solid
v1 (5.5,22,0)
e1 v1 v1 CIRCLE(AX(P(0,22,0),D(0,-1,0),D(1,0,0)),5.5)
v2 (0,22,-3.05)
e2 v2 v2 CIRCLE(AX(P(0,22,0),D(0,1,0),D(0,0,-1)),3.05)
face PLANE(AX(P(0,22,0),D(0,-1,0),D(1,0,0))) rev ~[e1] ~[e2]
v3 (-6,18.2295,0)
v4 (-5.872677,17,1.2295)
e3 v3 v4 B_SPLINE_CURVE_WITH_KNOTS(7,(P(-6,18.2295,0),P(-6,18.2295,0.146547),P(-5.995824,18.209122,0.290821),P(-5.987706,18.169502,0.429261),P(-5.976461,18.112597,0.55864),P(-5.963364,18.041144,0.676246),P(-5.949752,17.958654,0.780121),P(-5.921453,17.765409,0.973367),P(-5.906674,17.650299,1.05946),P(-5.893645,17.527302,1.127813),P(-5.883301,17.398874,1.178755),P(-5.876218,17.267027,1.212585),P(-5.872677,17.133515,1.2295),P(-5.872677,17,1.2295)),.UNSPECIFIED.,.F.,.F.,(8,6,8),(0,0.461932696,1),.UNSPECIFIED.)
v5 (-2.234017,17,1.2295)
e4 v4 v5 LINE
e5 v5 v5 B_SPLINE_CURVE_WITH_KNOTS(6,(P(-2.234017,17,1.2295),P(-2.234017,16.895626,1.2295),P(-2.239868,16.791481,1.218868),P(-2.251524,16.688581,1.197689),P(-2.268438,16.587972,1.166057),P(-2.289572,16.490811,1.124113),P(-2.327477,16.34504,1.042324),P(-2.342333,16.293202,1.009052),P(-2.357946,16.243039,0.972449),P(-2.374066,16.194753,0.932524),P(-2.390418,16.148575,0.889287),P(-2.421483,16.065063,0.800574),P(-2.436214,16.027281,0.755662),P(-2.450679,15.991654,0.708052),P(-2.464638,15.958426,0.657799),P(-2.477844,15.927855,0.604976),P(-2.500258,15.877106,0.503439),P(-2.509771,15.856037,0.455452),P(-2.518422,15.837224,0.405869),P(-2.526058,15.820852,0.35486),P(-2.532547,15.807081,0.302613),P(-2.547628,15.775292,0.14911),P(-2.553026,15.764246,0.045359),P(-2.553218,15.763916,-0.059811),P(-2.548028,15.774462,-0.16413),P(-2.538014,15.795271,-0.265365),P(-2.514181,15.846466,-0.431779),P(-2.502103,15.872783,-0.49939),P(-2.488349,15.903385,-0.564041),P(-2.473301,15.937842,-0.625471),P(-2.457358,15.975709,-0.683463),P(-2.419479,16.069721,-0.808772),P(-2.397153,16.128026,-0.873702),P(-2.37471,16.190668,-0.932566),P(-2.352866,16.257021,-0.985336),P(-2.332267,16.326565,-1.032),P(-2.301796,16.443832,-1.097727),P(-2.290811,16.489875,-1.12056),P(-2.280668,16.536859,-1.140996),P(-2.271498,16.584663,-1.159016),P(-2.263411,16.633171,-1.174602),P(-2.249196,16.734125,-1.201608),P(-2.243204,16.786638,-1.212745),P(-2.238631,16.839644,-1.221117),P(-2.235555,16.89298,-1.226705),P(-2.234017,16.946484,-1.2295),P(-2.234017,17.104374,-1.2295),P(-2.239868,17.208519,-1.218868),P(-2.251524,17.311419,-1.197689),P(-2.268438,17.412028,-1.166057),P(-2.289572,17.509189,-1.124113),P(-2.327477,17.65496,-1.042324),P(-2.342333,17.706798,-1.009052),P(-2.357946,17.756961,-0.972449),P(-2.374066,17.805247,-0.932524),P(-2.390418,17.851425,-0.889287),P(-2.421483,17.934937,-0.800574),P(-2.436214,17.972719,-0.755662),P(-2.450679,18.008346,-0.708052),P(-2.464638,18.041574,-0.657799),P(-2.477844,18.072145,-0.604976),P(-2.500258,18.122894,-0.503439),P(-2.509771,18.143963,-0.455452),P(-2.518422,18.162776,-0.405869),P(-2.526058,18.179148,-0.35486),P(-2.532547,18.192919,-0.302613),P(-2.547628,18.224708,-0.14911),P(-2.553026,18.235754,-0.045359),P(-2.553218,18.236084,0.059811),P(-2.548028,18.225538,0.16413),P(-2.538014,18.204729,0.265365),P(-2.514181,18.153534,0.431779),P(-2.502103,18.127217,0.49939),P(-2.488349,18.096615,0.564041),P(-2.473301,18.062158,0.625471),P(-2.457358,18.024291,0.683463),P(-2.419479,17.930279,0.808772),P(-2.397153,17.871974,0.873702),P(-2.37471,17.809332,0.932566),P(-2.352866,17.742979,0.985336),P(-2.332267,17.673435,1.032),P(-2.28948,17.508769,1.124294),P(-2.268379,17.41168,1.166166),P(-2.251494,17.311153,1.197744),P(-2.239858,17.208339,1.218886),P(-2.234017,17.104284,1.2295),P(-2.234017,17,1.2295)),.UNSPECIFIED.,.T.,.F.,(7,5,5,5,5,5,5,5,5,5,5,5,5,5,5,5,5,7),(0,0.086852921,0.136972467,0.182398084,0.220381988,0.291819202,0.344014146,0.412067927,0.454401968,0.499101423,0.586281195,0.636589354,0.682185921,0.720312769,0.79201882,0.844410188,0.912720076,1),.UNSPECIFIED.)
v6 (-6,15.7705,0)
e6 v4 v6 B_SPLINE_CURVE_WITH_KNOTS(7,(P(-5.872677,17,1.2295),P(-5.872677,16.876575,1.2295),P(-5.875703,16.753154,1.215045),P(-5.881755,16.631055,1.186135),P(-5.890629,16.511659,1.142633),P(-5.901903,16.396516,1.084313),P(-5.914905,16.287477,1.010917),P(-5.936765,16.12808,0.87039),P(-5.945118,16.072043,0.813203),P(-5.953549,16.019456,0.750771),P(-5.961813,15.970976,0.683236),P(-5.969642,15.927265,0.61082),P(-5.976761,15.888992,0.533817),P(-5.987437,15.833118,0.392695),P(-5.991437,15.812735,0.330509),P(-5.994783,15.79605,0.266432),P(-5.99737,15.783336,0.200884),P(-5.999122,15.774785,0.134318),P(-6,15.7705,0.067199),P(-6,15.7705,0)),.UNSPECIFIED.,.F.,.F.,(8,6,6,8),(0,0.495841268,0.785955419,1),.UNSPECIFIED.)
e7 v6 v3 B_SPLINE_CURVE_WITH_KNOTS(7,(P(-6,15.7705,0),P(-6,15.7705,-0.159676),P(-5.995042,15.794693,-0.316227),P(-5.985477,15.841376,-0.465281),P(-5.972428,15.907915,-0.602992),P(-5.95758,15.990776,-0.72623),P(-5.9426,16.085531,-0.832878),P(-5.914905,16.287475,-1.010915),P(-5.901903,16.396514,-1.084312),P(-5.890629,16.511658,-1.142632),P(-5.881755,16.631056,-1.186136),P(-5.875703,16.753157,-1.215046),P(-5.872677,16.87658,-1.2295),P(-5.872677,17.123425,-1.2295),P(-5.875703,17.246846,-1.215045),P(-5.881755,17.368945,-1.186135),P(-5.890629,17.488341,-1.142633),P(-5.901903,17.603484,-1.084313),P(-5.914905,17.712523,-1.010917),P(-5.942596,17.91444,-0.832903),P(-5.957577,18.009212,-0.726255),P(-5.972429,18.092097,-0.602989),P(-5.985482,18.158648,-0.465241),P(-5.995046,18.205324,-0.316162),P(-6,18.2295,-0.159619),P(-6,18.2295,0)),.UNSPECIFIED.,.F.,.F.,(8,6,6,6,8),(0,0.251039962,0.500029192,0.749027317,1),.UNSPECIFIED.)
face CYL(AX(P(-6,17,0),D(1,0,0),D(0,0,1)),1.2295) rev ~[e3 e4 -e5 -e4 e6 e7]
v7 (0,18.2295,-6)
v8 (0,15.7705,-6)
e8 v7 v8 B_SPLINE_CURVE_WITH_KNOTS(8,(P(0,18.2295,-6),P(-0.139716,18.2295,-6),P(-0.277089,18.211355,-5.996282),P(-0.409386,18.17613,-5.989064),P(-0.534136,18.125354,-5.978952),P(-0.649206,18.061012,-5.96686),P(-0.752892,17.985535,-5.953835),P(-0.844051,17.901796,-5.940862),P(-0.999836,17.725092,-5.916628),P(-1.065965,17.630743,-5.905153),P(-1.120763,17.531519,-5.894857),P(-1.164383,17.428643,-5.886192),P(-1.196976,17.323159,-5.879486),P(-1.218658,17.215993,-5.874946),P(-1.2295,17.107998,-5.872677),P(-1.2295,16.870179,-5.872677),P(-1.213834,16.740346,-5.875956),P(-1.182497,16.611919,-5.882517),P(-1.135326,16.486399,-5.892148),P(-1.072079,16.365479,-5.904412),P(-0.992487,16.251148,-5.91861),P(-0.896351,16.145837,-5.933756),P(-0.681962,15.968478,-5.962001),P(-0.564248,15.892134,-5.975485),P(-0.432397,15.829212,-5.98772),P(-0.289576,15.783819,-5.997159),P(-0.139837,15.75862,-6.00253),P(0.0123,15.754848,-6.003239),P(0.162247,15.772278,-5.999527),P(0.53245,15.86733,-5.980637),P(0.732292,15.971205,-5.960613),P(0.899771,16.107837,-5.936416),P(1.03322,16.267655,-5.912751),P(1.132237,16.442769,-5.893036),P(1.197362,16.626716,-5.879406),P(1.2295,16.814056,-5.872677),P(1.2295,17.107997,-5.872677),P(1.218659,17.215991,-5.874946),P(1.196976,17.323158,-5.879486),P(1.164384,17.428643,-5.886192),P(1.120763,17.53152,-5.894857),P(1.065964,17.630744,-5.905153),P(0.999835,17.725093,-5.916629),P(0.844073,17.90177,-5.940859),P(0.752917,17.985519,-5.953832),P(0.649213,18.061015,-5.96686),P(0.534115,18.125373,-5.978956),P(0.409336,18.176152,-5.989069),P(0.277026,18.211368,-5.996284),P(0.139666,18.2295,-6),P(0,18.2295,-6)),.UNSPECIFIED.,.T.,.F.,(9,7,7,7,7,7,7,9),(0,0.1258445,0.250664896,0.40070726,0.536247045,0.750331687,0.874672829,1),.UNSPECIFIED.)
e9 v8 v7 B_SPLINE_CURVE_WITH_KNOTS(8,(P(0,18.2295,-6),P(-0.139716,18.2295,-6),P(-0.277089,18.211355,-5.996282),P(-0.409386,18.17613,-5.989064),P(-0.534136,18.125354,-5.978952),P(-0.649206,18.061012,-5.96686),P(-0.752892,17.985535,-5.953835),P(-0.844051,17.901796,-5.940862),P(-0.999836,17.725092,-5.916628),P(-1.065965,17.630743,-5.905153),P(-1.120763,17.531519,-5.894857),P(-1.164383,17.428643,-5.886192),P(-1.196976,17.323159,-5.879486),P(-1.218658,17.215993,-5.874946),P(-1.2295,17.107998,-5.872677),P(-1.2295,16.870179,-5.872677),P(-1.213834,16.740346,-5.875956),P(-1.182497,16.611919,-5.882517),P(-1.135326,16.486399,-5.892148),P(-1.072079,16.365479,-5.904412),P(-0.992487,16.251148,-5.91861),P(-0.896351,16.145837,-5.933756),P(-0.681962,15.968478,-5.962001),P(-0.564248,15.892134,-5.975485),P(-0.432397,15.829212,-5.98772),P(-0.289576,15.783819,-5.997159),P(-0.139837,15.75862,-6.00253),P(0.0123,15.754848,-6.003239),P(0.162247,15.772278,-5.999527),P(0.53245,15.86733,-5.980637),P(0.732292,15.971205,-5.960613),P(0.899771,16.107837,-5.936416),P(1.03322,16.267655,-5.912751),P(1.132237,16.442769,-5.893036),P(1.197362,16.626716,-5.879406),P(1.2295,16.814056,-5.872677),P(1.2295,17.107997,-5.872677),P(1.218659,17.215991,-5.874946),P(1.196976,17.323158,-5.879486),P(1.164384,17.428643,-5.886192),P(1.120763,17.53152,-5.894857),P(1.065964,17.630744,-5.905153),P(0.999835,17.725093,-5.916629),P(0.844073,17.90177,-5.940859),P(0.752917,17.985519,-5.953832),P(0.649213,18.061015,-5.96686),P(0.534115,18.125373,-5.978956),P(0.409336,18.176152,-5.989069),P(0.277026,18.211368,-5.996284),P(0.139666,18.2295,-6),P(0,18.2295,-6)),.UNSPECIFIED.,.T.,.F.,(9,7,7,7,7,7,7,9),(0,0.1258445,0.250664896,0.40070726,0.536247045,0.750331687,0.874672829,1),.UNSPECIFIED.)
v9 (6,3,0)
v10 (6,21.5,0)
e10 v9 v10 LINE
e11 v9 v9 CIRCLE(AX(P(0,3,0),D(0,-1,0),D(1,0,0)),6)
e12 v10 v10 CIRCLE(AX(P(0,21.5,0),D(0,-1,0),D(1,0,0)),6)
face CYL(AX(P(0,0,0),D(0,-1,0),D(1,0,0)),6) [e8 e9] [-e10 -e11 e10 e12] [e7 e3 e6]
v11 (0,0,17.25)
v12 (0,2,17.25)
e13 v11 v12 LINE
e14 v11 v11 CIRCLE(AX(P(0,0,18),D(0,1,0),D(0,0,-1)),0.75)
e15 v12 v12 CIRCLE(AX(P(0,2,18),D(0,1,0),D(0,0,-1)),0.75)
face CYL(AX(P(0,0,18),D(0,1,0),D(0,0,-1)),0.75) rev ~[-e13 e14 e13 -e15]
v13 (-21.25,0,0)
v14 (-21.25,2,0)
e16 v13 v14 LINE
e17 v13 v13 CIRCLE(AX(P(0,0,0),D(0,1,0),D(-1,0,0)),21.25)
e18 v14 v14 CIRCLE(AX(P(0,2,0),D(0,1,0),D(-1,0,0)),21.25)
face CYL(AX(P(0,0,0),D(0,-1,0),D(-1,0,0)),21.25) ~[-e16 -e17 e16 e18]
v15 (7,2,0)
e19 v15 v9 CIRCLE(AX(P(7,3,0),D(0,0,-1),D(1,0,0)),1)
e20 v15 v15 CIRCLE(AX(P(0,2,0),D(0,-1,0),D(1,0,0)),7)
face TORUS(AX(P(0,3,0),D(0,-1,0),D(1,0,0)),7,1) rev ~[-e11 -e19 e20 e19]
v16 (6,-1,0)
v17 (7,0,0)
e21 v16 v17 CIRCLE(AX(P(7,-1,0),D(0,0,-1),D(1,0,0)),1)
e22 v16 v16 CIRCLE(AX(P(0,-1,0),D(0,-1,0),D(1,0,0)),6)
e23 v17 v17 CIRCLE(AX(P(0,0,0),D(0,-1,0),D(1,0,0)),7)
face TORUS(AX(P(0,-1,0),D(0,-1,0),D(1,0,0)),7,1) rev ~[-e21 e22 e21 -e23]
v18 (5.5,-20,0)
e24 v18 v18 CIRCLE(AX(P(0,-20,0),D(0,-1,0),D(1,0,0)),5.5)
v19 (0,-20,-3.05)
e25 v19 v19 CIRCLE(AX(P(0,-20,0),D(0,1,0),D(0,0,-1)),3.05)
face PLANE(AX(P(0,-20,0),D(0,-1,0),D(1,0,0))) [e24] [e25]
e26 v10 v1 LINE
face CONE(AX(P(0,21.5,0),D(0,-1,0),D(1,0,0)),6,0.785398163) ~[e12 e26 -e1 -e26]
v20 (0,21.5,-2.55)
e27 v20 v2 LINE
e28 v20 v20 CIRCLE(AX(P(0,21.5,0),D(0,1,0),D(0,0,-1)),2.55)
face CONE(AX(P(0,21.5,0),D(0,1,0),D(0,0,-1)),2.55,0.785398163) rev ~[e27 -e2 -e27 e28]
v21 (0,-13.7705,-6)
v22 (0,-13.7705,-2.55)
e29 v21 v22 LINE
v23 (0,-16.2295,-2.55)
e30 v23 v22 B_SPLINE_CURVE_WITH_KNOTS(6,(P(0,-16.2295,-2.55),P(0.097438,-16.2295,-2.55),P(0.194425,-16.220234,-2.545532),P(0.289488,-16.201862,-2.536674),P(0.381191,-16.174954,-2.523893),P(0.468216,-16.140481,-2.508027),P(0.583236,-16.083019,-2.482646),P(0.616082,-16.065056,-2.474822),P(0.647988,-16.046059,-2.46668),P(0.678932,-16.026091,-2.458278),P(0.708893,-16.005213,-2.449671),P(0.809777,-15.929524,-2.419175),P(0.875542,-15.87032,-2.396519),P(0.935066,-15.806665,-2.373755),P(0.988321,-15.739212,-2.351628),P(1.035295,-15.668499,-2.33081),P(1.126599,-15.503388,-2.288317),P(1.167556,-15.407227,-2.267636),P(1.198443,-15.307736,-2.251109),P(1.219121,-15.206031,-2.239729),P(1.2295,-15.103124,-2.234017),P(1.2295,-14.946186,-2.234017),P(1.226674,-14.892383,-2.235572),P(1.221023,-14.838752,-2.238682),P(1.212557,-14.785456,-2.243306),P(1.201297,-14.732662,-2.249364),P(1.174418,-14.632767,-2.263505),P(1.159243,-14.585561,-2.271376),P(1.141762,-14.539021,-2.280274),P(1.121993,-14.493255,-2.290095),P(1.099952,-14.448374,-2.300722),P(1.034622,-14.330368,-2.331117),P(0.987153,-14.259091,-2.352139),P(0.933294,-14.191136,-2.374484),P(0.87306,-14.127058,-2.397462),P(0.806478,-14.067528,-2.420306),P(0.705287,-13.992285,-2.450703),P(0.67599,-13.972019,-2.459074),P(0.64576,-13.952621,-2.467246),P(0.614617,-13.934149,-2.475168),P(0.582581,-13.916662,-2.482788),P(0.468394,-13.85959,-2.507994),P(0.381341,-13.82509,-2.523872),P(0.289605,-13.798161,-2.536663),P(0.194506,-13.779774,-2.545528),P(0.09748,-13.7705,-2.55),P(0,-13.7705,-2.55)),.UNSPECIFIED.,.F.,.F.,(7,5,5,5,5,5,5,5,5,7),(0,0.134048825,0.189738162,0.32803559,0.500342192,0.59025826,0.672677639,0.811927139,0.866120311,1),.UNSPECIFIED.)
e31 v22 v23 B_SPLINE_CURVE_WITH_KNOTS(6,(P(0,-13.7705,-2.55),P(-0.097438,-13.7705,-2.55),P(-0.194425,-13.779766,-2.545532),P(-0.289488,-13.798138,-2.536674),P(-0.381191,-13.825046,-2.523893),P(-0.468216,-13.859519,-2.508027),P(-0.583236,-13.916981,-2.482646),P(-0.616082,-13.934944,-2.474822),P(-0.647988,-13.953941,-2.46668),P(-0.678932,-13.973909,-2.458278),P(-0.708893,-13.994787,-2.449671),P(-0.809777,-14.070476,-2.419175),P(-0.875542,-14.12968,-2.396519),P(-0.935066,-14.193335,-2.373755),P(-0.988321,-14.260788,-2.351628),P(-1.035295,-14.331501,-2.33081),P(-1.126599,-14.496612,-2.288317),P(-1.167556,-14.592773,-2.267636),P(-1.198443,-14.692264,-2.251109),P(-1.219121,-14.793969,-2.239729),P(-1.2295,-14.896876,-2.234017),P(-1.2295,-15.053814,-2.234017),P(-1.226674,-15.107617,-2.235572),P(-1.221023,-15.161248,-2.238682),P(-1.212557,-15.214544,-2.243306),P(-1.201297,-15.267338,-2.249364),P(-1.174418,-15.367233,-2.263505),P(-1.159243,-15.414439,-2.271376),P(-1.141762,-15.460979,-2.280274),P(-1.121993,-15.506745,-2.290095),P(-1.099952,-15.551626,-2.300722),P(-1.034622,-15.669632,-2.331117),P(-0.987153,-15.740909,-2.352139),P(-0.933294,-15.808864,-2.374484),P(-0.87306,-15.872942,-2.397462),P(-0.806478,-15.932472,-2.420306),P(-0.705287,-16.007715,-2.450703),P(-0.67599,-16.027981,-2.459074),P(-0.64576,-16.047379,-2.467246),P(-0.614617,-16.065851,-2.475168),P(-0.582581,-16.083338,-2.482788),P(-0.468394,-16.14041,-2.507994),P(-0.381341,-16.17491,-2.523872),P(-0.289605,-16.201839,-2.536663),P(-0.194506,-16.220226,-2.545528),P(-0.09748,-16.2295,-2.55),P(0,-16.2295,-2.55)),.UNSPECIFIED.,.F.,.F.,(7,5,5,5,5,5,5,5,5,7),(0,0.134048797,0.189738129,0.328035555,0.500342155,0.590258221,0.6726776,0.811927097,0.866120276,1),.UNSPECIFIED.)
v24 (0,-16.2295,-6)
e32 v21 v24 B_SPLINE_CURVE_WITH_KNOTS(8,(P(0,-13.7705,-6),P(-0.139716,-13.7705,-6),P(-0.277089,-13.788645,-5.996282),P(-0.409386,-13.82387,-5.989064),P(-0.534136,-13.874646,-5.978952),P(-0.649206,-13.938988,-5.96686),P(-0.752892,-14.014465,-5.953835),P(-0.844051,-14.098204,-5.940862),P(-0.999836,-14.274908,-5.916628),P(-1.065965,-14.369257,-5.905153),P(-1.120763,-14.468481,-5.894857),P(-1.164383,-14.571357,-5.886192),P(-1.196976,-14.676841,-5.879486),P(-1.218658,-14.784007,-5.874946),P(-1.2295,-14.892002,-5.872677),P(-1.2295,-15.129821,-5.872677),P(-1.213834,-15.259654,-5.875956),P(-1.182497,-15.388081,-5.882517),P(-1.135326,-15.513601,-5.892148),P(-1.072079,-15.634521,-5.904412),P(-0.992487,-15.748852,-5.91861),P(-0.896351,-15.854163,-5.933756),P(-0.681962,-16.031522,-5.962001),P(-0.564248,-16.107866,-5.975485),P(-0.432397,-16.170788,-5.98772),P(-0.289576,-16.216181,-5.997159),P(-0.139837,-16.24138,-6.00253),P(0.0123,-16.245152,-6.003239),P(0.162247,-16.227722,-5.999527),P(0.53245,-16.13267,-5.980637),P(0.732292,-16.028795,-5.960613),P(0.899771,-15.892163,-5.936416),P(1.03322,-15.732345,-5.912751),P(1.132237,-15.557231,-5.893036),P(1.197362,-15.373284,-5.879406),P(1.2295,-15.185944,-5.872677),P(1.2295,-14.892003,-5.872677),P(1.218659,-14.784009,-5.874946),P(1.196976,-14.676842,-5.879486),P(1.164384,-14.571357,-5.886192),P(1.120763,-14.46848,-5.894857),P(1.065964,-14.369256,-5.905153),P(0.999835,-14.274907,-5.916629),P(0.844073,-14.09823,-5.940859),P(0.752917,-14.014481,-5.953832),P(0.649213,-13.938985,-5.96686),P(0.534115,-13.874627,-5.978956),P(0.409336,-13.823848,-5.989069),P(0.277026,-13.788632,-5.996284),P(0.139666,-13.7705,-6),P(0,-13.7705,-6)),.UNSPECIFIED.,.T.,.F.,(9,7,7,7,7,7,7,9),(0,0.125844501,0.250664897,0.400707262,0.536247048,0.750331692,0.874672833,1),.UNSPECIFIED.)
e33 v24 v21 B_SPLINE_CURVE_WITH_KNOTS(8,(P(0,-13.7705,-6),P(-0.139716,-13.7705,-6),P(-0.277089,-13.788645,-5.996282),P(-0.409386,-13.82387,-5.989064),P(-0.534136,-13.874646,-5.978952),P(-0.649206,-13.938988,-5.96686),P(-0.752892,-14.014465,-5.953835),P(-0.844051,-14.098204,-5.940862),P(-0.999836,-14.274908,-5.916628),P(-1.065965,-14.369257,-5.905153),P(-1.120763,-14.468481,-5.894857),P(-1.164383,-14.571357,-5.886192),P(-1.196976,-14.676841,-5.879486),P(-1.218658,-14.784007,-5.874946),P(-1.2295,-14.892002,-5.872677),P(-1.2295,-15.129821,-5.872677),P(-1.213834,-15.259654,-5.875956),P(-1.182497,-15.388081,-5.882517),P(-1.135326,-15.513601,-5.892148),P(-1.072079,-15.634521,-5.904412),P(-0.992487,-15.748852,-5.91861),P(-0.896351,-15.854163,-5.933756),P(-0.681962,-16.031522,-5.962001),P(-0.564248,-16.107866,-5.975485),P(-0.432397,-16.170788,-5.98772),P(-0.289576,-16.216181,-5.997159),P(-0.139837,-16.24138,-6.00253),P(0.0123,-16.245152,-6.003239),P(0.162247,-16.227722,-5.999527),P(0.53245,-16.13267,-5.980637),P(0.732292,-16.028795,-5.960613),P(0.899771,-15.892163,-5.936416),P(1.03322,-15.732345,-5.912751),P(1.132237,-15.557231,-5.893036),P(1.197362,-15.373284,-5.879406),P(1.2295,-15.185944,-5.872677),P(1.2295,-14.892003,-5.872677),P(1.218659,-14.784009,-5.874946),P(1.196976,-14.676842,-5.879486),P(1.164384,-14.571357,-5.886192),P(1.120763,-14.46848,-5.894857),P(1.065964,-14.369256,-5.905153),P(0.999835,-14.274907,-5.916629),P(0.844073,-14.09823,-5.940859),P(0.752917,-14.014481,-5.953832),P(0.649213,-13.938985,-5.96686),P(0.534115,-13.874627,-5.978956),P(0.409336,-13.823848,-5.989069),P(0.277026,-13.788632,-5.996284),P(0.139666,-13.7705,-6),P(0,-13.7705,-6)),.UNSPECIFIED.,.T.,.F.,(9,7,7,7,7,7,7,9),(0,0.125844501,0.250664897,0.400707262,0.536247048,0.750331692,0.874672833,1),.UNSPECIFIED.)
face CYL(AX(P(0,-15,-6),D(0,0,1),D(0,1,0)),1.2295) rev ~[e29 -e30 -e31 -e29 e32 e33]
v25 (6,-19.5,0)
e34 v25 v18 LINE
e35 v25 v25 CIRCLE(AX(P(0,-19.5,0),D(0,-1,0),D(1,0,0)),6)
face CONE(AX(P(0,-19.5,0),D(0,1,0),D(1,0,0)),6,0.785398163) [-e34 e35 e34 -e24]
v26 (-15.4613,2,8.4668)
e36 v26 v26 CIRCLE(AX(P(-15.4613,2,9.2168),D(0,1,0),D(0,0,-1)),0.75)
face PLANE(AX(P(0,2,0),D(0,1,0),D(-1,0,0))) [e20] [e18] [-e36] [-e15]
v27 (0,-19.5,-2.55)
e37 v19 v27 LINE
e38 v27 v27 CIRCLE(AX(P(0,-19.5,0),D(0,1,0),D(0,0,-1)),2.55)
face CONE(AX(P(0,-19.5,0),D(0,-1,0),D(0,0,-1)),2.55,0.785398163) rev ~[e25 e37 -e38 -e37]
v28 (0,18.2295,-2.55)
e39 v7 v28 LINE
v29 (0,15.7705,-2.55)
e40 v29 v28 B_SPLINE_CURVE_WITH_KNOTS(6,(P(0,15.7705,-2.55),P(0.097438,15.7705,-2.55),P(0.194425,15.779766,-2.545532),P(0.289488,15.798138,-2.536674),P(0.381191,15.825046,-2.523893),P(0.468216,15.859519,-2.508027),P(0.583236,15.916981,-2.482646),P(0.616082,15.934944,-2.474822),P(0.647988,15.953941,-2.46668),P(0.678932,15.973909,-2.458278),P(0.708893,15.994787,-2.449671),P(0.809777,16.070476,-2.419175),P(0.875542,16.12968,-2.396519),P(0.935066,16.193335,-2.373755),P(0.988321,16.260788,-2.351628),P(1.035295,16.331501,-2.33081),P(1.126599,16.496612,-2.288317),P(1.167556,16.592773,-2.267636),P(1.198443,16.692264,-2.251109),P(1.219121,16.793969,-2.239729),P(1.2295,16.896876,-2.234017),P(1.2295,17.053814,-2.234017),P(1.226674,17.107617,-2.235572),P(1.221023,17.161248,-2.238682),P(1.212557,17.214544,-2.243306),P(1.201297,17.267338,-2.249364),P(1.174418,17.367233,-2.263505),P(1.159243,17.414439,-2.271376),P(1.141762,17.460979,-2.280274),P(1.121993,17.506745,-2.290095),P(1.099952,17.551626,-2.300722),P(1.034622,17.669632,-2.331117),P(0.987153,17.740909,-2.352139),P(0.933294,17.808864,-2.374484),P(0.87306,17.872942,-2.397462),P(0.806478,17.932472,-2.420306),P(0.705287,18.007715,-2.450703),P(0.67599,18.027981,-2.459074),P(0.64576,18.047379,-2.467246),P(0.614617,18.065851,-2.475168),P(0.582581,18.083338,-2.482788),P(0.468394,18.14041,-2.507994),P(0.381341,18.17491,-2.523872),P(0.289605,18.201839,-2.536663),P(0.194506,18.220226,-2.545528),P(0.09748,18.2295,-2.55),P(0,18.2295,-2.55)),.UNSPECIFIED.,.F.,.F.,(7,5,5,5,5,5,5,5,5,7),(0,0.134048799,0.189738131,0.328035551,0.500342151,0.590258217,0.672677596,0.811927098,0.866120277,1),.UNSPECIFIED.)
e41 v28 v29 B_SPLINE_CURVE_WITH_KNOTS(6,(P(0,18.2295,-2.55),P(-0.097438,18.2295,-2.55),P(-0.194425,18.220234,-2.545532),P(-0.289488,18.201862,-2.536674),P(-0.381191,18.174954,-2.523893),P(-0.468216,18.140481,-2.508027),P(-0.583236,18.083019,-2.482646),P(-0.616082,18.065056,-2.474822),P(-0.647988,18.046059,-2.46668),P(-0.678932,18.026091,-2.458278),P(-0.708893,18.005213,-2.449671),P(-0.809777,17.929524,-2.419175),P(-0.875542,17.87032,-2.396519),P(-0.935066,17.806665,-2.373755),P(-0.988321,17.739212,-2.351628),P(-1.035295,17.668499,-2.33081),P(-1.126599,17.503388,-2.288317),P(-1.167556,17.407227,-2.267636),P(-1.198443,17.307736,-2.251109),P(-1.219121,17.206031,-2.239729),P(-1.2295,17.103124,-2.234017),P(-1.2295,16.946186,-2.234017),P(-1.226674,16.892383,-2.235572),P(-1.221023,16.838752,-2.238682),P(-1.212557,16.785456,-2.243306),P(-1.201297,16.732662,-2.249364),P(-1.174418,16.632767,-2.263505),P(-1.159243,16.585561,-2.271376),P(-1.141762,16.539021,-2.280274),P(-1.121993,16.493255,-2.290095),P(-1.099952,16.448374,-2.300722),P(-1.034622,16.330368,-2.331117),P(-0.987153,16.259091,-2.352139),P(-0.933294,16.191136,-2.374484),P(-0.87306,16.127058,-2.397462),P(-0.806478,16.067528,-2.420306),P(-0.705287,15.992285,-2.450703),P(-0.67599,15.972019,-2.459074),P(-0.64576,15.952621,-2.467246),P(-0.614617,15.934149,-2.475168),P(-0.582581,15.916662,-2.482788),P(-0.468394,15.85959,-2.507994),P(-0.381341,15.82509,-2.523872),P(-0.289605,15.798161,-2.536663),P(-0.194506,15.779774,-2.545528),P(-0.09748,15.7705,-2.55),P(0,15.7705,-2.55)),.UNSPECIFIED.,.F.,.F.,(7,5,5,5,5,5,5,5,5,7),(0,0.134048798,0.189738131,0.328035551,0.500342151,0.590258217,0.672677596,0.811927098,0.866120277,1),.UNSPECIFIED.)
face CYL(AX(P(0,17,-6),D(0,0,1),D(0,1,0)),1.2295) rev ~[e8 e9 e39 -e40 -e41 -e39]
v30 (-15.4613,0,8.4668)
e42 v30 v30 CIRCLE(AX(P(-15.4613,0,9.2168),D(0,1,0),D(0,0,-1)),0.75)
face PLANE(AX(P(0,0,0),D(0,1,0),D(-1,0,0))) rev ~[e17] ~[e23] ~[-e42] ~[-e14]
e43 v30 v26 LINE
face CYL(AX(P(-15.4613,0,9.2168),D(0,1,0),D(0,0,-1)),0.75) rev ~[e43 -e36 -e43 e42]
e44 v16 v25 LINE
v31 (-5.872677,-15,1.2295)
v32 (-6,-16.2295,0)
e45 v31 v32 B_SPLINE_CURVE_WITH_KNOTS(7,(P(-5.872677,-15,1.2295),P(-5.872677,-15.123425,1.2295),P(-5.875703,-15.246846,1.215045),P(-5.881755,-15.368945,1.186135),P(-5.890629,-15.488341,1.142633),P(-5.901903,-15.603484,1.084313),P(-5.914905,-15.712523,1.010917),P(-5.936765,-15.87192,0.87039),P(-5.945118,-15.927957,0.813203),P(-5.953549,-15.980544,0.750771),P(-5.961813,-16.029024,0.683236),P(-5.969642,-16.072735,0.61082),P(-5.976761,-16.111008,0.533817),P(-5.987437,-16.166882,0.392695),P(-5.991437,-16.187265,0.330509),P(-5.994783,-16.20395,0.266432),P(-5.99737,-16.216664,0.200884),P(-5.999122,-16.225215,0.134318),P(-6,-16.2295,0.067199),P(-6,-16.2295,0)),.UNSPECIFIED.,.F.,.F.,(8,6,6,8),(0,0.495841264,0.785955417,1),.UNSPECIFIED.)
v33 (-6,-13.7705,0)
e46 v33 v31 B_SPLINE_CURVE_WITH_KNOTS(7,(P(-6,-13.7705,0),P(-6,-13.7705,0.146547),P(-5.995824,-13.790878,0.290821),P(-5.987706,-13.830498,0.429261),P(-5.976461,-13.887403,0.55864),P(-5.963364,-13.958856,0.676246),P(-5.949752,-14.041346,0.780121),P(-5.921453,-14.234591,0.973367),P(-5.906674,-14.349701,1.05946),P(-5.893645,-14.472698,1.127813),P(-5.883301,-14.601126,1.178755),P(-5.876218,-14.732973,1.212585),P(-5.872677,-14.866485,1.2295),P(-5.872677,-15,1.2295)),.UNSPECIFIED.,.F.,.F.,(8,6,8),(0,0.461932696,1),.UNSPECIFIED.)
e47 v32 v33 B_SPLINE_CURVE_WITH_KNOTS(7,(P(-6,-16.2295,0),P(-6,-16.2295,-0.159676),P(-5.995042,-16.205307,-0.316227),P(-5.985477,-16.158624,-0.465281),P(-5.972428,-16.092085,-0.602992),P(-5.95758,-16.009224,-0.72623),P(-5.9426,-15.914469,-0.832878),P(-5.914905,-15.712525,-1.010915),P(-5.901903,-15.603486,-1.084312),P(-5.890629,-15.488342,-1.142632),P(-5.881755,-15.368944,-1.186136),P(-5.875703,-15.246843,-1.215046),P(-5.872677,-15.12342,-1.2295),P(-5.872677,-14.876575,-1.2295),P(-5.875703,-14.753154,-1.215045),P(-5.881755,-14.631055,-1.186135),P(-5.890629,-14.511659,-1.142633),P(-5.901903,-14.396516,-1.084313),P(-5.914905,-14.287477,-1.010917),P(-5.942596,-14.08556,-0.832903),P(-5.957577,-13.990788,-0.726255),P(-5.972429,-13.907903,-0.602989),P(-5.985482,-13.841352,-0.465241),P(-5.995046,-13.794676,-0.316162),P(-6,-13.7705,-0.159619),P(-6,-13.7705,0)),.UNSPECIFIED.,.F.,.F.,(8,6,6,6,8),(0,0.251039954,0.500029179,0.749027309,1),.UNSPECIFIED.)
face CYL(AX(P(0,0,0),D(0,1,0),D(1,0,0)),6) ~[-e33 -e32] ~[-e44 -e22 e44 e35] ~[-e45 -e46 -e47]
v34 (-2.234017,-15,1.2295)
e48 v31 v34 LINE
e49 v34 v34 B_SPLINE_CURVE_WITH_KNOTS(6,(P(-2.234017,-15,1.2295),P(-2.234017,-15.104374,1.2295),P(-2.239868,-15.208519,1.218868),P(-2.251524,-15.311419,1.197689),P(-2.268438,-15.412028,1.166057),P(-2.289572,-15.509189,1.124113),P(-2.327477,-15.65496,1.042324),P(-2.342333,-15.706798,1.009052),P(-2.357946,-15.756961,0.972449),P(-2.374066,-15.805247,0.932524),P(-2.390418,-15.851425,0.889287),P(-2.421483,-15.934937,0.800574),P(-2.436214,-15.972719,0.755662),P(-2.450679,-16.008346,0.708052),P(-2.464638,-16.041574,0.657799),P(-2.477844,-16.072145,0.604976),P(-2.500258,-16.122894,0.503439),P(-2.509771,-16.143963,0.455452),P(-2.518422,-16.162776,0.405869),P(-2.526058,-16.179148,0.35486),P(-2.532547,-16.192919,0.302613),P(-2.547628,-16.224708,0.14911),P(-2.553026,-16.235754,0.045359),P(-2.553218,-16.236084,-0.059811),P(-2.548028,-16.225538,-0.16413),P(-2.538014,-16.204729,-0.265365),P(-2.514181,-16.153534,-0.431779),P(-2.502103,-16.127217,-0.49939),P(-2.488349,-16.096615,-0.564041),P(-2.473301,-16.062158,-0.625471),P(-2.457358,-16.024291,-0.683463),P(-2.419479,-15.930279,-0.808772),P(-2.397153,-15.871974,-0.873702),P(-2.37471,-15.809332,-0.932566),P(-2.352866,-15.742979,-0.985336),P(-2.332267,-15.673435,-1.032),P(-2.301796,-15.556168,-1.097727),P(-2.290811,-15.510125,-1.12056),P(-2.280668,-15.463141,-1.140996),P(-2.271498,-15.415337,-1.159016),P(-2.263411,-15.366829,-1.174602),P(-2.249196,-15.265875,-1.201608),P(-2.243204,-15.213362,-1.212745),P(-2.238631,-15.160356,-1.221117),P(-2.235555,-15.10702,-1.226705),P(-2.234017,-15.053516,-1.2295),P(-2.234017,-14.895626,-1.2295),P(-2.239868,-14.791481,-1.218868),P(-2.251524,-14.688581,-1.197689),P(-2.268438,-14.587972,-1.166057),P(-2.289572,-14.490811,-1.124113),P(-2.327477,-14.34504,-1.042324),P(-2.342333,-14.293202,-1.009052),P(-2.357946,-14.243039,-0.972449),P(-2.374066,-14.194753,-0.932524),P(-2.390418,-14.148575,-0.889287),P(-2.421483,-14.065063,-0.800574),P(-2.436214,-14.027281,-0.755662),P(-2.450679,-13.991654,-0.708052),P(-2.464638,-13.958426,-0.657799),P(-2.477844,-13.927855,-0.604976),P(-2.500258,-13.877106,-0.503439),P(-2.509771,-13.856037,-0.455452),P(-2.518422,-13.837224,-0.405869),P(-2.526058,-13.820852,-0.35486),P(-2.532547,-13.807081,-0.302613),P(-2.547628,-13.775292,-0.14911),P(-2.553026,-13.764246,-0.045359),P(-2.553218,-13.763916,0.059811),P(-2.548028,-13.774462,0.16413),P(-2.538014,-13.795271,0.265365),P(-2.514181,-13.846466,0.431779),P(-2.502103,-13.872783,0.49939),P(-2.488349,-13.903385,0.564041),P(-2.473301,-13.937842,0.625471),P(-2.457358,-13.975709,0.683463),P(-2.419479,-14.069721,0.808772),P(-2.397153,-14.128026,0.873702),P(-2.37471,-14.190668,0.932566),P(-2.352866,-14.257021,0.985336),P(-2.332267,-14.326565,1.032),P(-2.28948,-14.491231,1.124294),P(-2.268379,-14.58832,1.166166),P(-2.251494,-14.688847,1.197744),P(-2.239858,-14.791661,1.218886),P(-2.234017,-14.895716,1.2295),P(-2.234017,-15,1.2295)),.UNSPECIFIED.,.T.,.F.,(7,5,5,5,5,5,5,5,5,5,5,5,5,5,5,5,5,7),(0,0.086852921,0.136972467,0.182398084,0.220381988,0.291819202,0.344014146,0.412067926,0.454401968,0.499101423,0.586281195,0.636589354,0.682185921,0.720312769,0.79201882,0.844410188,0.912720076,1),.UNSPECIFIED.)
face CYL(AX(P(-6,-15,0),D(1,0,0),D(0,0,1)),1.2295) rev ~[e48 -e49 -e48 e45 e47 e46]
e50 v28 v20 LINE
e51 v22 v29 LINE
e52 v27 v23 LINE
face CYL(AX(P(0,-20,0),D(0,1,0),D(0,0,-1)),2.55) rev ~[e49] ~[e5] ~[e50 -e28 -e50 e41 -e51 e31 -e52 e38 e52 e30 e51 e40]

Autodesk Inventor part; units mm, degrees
ref_plane "XZ Plane" through (0, 0, 0) normal (0, 1, 0) x (-1, 0, 0)
sketch "Sketch1" plane through (0, 0, 0) normal (0, 1, 0) x (-1, 0, 0)
  circle A0 centre (0, 0) radius 21.25
  circle A1 centre (0, 0) radius 18
  point P0 (0, 18)
  point P1 (15.4613, 9.2168)
  dimension "d0" = 42.5
  dimension "d3" = 3.25
  dimension "d4" = 59.2
extrude "Extrusion1" add sketch "Sketch1" along normal blind 2 contours A0 | A1
hole "Hole1" at (0, 0, 18) at (-15.4613, 0, 9.2168) direction (0, 1, 0) diameter 1.5 depth 8 tip angle 118
sketch "Sketch2" plane through (0, 0, 0) normal (0, -1, 0) x (1, 0, 0)
  circle A0 centre (0, 0) radius 6
  dimension "d19" = 12
extrude "Extrusion2" add sketch "Sketch2" along normal blind 20 and the other way blind 22
chamfer "Chamfer2" distance 0.5 angle 45 2 edges at (-6, 22, 0) (-6, -20, 0)
fillet "Fillet1" radius 1 2 edges at (-6, 0, 0) (-6, 2, 0)
sketch "Sketch3" plane through (0, -20, 0) normal (0, -1, 0) x (1, 0, 0)
  point P0 (0, 0)
  point P1 (0, 0)
hole "Hole3" at (0, -20, 0) direction (0, 1, 0) diameter 5.1 end through all
chamfer "Chamfer3" distance 0.5 angle 45 2 edges at (0, -20, 2.55) (0, 22, 2.55)
ref_plane "Work Plane1" through (-6, 0, 0) normal (1, 0, 0) x (0, 1, 0)
sketch "Sketch4" plane through (-6, 0, 0) normal (1, 0, 0) x (0, 1, 0)
  line L0 (22, 5.5) -> (22, -5.5) projected
  line L1 (-20, -5.5) -> (-20, 5.5) projected
  point P0 (0, 0)
  point P1 (17, 0)
  point P2 (-15, 0)
  dimension "d41" = 5
  dimension "d42" = 5
ref_plane "Work Plane2" through (0, 0, -6) normal (0, 0, 1) x (1, 0, 0)
sketch "Sketch6" plane through (0, 0, -6) normal (0, 0, 1) x (1, 0, 0)
  line L0 (5.5, -20) -> (-5.5, -20) projected
  line L1 (-5.5, 22) -> (5.5, 22) projected
  point P0 (0, 0)
  point P1 (0, -15)
  point P2 (0, 17)
  dimension "d43" = 5
  dimension "d44" = 5
hole "Hole4" at (-6, -15, 0) at (-6, 17, 0) direction (1, 0, 0) diameter 2.459 depth 5.8 tip angle 118 thread size "M3x0.5" class "6H" standard "ISO Metric profile"
hole "Hole5" at (0, -15, -6) at (0, 17, -6) direction (0, 0, 1) diameter 2.459 depth 5.8 tip angle 118 thread size "M3x0.5" class "6H" standard "ISO Metric profile"
properties part number "EncoderDisk"
